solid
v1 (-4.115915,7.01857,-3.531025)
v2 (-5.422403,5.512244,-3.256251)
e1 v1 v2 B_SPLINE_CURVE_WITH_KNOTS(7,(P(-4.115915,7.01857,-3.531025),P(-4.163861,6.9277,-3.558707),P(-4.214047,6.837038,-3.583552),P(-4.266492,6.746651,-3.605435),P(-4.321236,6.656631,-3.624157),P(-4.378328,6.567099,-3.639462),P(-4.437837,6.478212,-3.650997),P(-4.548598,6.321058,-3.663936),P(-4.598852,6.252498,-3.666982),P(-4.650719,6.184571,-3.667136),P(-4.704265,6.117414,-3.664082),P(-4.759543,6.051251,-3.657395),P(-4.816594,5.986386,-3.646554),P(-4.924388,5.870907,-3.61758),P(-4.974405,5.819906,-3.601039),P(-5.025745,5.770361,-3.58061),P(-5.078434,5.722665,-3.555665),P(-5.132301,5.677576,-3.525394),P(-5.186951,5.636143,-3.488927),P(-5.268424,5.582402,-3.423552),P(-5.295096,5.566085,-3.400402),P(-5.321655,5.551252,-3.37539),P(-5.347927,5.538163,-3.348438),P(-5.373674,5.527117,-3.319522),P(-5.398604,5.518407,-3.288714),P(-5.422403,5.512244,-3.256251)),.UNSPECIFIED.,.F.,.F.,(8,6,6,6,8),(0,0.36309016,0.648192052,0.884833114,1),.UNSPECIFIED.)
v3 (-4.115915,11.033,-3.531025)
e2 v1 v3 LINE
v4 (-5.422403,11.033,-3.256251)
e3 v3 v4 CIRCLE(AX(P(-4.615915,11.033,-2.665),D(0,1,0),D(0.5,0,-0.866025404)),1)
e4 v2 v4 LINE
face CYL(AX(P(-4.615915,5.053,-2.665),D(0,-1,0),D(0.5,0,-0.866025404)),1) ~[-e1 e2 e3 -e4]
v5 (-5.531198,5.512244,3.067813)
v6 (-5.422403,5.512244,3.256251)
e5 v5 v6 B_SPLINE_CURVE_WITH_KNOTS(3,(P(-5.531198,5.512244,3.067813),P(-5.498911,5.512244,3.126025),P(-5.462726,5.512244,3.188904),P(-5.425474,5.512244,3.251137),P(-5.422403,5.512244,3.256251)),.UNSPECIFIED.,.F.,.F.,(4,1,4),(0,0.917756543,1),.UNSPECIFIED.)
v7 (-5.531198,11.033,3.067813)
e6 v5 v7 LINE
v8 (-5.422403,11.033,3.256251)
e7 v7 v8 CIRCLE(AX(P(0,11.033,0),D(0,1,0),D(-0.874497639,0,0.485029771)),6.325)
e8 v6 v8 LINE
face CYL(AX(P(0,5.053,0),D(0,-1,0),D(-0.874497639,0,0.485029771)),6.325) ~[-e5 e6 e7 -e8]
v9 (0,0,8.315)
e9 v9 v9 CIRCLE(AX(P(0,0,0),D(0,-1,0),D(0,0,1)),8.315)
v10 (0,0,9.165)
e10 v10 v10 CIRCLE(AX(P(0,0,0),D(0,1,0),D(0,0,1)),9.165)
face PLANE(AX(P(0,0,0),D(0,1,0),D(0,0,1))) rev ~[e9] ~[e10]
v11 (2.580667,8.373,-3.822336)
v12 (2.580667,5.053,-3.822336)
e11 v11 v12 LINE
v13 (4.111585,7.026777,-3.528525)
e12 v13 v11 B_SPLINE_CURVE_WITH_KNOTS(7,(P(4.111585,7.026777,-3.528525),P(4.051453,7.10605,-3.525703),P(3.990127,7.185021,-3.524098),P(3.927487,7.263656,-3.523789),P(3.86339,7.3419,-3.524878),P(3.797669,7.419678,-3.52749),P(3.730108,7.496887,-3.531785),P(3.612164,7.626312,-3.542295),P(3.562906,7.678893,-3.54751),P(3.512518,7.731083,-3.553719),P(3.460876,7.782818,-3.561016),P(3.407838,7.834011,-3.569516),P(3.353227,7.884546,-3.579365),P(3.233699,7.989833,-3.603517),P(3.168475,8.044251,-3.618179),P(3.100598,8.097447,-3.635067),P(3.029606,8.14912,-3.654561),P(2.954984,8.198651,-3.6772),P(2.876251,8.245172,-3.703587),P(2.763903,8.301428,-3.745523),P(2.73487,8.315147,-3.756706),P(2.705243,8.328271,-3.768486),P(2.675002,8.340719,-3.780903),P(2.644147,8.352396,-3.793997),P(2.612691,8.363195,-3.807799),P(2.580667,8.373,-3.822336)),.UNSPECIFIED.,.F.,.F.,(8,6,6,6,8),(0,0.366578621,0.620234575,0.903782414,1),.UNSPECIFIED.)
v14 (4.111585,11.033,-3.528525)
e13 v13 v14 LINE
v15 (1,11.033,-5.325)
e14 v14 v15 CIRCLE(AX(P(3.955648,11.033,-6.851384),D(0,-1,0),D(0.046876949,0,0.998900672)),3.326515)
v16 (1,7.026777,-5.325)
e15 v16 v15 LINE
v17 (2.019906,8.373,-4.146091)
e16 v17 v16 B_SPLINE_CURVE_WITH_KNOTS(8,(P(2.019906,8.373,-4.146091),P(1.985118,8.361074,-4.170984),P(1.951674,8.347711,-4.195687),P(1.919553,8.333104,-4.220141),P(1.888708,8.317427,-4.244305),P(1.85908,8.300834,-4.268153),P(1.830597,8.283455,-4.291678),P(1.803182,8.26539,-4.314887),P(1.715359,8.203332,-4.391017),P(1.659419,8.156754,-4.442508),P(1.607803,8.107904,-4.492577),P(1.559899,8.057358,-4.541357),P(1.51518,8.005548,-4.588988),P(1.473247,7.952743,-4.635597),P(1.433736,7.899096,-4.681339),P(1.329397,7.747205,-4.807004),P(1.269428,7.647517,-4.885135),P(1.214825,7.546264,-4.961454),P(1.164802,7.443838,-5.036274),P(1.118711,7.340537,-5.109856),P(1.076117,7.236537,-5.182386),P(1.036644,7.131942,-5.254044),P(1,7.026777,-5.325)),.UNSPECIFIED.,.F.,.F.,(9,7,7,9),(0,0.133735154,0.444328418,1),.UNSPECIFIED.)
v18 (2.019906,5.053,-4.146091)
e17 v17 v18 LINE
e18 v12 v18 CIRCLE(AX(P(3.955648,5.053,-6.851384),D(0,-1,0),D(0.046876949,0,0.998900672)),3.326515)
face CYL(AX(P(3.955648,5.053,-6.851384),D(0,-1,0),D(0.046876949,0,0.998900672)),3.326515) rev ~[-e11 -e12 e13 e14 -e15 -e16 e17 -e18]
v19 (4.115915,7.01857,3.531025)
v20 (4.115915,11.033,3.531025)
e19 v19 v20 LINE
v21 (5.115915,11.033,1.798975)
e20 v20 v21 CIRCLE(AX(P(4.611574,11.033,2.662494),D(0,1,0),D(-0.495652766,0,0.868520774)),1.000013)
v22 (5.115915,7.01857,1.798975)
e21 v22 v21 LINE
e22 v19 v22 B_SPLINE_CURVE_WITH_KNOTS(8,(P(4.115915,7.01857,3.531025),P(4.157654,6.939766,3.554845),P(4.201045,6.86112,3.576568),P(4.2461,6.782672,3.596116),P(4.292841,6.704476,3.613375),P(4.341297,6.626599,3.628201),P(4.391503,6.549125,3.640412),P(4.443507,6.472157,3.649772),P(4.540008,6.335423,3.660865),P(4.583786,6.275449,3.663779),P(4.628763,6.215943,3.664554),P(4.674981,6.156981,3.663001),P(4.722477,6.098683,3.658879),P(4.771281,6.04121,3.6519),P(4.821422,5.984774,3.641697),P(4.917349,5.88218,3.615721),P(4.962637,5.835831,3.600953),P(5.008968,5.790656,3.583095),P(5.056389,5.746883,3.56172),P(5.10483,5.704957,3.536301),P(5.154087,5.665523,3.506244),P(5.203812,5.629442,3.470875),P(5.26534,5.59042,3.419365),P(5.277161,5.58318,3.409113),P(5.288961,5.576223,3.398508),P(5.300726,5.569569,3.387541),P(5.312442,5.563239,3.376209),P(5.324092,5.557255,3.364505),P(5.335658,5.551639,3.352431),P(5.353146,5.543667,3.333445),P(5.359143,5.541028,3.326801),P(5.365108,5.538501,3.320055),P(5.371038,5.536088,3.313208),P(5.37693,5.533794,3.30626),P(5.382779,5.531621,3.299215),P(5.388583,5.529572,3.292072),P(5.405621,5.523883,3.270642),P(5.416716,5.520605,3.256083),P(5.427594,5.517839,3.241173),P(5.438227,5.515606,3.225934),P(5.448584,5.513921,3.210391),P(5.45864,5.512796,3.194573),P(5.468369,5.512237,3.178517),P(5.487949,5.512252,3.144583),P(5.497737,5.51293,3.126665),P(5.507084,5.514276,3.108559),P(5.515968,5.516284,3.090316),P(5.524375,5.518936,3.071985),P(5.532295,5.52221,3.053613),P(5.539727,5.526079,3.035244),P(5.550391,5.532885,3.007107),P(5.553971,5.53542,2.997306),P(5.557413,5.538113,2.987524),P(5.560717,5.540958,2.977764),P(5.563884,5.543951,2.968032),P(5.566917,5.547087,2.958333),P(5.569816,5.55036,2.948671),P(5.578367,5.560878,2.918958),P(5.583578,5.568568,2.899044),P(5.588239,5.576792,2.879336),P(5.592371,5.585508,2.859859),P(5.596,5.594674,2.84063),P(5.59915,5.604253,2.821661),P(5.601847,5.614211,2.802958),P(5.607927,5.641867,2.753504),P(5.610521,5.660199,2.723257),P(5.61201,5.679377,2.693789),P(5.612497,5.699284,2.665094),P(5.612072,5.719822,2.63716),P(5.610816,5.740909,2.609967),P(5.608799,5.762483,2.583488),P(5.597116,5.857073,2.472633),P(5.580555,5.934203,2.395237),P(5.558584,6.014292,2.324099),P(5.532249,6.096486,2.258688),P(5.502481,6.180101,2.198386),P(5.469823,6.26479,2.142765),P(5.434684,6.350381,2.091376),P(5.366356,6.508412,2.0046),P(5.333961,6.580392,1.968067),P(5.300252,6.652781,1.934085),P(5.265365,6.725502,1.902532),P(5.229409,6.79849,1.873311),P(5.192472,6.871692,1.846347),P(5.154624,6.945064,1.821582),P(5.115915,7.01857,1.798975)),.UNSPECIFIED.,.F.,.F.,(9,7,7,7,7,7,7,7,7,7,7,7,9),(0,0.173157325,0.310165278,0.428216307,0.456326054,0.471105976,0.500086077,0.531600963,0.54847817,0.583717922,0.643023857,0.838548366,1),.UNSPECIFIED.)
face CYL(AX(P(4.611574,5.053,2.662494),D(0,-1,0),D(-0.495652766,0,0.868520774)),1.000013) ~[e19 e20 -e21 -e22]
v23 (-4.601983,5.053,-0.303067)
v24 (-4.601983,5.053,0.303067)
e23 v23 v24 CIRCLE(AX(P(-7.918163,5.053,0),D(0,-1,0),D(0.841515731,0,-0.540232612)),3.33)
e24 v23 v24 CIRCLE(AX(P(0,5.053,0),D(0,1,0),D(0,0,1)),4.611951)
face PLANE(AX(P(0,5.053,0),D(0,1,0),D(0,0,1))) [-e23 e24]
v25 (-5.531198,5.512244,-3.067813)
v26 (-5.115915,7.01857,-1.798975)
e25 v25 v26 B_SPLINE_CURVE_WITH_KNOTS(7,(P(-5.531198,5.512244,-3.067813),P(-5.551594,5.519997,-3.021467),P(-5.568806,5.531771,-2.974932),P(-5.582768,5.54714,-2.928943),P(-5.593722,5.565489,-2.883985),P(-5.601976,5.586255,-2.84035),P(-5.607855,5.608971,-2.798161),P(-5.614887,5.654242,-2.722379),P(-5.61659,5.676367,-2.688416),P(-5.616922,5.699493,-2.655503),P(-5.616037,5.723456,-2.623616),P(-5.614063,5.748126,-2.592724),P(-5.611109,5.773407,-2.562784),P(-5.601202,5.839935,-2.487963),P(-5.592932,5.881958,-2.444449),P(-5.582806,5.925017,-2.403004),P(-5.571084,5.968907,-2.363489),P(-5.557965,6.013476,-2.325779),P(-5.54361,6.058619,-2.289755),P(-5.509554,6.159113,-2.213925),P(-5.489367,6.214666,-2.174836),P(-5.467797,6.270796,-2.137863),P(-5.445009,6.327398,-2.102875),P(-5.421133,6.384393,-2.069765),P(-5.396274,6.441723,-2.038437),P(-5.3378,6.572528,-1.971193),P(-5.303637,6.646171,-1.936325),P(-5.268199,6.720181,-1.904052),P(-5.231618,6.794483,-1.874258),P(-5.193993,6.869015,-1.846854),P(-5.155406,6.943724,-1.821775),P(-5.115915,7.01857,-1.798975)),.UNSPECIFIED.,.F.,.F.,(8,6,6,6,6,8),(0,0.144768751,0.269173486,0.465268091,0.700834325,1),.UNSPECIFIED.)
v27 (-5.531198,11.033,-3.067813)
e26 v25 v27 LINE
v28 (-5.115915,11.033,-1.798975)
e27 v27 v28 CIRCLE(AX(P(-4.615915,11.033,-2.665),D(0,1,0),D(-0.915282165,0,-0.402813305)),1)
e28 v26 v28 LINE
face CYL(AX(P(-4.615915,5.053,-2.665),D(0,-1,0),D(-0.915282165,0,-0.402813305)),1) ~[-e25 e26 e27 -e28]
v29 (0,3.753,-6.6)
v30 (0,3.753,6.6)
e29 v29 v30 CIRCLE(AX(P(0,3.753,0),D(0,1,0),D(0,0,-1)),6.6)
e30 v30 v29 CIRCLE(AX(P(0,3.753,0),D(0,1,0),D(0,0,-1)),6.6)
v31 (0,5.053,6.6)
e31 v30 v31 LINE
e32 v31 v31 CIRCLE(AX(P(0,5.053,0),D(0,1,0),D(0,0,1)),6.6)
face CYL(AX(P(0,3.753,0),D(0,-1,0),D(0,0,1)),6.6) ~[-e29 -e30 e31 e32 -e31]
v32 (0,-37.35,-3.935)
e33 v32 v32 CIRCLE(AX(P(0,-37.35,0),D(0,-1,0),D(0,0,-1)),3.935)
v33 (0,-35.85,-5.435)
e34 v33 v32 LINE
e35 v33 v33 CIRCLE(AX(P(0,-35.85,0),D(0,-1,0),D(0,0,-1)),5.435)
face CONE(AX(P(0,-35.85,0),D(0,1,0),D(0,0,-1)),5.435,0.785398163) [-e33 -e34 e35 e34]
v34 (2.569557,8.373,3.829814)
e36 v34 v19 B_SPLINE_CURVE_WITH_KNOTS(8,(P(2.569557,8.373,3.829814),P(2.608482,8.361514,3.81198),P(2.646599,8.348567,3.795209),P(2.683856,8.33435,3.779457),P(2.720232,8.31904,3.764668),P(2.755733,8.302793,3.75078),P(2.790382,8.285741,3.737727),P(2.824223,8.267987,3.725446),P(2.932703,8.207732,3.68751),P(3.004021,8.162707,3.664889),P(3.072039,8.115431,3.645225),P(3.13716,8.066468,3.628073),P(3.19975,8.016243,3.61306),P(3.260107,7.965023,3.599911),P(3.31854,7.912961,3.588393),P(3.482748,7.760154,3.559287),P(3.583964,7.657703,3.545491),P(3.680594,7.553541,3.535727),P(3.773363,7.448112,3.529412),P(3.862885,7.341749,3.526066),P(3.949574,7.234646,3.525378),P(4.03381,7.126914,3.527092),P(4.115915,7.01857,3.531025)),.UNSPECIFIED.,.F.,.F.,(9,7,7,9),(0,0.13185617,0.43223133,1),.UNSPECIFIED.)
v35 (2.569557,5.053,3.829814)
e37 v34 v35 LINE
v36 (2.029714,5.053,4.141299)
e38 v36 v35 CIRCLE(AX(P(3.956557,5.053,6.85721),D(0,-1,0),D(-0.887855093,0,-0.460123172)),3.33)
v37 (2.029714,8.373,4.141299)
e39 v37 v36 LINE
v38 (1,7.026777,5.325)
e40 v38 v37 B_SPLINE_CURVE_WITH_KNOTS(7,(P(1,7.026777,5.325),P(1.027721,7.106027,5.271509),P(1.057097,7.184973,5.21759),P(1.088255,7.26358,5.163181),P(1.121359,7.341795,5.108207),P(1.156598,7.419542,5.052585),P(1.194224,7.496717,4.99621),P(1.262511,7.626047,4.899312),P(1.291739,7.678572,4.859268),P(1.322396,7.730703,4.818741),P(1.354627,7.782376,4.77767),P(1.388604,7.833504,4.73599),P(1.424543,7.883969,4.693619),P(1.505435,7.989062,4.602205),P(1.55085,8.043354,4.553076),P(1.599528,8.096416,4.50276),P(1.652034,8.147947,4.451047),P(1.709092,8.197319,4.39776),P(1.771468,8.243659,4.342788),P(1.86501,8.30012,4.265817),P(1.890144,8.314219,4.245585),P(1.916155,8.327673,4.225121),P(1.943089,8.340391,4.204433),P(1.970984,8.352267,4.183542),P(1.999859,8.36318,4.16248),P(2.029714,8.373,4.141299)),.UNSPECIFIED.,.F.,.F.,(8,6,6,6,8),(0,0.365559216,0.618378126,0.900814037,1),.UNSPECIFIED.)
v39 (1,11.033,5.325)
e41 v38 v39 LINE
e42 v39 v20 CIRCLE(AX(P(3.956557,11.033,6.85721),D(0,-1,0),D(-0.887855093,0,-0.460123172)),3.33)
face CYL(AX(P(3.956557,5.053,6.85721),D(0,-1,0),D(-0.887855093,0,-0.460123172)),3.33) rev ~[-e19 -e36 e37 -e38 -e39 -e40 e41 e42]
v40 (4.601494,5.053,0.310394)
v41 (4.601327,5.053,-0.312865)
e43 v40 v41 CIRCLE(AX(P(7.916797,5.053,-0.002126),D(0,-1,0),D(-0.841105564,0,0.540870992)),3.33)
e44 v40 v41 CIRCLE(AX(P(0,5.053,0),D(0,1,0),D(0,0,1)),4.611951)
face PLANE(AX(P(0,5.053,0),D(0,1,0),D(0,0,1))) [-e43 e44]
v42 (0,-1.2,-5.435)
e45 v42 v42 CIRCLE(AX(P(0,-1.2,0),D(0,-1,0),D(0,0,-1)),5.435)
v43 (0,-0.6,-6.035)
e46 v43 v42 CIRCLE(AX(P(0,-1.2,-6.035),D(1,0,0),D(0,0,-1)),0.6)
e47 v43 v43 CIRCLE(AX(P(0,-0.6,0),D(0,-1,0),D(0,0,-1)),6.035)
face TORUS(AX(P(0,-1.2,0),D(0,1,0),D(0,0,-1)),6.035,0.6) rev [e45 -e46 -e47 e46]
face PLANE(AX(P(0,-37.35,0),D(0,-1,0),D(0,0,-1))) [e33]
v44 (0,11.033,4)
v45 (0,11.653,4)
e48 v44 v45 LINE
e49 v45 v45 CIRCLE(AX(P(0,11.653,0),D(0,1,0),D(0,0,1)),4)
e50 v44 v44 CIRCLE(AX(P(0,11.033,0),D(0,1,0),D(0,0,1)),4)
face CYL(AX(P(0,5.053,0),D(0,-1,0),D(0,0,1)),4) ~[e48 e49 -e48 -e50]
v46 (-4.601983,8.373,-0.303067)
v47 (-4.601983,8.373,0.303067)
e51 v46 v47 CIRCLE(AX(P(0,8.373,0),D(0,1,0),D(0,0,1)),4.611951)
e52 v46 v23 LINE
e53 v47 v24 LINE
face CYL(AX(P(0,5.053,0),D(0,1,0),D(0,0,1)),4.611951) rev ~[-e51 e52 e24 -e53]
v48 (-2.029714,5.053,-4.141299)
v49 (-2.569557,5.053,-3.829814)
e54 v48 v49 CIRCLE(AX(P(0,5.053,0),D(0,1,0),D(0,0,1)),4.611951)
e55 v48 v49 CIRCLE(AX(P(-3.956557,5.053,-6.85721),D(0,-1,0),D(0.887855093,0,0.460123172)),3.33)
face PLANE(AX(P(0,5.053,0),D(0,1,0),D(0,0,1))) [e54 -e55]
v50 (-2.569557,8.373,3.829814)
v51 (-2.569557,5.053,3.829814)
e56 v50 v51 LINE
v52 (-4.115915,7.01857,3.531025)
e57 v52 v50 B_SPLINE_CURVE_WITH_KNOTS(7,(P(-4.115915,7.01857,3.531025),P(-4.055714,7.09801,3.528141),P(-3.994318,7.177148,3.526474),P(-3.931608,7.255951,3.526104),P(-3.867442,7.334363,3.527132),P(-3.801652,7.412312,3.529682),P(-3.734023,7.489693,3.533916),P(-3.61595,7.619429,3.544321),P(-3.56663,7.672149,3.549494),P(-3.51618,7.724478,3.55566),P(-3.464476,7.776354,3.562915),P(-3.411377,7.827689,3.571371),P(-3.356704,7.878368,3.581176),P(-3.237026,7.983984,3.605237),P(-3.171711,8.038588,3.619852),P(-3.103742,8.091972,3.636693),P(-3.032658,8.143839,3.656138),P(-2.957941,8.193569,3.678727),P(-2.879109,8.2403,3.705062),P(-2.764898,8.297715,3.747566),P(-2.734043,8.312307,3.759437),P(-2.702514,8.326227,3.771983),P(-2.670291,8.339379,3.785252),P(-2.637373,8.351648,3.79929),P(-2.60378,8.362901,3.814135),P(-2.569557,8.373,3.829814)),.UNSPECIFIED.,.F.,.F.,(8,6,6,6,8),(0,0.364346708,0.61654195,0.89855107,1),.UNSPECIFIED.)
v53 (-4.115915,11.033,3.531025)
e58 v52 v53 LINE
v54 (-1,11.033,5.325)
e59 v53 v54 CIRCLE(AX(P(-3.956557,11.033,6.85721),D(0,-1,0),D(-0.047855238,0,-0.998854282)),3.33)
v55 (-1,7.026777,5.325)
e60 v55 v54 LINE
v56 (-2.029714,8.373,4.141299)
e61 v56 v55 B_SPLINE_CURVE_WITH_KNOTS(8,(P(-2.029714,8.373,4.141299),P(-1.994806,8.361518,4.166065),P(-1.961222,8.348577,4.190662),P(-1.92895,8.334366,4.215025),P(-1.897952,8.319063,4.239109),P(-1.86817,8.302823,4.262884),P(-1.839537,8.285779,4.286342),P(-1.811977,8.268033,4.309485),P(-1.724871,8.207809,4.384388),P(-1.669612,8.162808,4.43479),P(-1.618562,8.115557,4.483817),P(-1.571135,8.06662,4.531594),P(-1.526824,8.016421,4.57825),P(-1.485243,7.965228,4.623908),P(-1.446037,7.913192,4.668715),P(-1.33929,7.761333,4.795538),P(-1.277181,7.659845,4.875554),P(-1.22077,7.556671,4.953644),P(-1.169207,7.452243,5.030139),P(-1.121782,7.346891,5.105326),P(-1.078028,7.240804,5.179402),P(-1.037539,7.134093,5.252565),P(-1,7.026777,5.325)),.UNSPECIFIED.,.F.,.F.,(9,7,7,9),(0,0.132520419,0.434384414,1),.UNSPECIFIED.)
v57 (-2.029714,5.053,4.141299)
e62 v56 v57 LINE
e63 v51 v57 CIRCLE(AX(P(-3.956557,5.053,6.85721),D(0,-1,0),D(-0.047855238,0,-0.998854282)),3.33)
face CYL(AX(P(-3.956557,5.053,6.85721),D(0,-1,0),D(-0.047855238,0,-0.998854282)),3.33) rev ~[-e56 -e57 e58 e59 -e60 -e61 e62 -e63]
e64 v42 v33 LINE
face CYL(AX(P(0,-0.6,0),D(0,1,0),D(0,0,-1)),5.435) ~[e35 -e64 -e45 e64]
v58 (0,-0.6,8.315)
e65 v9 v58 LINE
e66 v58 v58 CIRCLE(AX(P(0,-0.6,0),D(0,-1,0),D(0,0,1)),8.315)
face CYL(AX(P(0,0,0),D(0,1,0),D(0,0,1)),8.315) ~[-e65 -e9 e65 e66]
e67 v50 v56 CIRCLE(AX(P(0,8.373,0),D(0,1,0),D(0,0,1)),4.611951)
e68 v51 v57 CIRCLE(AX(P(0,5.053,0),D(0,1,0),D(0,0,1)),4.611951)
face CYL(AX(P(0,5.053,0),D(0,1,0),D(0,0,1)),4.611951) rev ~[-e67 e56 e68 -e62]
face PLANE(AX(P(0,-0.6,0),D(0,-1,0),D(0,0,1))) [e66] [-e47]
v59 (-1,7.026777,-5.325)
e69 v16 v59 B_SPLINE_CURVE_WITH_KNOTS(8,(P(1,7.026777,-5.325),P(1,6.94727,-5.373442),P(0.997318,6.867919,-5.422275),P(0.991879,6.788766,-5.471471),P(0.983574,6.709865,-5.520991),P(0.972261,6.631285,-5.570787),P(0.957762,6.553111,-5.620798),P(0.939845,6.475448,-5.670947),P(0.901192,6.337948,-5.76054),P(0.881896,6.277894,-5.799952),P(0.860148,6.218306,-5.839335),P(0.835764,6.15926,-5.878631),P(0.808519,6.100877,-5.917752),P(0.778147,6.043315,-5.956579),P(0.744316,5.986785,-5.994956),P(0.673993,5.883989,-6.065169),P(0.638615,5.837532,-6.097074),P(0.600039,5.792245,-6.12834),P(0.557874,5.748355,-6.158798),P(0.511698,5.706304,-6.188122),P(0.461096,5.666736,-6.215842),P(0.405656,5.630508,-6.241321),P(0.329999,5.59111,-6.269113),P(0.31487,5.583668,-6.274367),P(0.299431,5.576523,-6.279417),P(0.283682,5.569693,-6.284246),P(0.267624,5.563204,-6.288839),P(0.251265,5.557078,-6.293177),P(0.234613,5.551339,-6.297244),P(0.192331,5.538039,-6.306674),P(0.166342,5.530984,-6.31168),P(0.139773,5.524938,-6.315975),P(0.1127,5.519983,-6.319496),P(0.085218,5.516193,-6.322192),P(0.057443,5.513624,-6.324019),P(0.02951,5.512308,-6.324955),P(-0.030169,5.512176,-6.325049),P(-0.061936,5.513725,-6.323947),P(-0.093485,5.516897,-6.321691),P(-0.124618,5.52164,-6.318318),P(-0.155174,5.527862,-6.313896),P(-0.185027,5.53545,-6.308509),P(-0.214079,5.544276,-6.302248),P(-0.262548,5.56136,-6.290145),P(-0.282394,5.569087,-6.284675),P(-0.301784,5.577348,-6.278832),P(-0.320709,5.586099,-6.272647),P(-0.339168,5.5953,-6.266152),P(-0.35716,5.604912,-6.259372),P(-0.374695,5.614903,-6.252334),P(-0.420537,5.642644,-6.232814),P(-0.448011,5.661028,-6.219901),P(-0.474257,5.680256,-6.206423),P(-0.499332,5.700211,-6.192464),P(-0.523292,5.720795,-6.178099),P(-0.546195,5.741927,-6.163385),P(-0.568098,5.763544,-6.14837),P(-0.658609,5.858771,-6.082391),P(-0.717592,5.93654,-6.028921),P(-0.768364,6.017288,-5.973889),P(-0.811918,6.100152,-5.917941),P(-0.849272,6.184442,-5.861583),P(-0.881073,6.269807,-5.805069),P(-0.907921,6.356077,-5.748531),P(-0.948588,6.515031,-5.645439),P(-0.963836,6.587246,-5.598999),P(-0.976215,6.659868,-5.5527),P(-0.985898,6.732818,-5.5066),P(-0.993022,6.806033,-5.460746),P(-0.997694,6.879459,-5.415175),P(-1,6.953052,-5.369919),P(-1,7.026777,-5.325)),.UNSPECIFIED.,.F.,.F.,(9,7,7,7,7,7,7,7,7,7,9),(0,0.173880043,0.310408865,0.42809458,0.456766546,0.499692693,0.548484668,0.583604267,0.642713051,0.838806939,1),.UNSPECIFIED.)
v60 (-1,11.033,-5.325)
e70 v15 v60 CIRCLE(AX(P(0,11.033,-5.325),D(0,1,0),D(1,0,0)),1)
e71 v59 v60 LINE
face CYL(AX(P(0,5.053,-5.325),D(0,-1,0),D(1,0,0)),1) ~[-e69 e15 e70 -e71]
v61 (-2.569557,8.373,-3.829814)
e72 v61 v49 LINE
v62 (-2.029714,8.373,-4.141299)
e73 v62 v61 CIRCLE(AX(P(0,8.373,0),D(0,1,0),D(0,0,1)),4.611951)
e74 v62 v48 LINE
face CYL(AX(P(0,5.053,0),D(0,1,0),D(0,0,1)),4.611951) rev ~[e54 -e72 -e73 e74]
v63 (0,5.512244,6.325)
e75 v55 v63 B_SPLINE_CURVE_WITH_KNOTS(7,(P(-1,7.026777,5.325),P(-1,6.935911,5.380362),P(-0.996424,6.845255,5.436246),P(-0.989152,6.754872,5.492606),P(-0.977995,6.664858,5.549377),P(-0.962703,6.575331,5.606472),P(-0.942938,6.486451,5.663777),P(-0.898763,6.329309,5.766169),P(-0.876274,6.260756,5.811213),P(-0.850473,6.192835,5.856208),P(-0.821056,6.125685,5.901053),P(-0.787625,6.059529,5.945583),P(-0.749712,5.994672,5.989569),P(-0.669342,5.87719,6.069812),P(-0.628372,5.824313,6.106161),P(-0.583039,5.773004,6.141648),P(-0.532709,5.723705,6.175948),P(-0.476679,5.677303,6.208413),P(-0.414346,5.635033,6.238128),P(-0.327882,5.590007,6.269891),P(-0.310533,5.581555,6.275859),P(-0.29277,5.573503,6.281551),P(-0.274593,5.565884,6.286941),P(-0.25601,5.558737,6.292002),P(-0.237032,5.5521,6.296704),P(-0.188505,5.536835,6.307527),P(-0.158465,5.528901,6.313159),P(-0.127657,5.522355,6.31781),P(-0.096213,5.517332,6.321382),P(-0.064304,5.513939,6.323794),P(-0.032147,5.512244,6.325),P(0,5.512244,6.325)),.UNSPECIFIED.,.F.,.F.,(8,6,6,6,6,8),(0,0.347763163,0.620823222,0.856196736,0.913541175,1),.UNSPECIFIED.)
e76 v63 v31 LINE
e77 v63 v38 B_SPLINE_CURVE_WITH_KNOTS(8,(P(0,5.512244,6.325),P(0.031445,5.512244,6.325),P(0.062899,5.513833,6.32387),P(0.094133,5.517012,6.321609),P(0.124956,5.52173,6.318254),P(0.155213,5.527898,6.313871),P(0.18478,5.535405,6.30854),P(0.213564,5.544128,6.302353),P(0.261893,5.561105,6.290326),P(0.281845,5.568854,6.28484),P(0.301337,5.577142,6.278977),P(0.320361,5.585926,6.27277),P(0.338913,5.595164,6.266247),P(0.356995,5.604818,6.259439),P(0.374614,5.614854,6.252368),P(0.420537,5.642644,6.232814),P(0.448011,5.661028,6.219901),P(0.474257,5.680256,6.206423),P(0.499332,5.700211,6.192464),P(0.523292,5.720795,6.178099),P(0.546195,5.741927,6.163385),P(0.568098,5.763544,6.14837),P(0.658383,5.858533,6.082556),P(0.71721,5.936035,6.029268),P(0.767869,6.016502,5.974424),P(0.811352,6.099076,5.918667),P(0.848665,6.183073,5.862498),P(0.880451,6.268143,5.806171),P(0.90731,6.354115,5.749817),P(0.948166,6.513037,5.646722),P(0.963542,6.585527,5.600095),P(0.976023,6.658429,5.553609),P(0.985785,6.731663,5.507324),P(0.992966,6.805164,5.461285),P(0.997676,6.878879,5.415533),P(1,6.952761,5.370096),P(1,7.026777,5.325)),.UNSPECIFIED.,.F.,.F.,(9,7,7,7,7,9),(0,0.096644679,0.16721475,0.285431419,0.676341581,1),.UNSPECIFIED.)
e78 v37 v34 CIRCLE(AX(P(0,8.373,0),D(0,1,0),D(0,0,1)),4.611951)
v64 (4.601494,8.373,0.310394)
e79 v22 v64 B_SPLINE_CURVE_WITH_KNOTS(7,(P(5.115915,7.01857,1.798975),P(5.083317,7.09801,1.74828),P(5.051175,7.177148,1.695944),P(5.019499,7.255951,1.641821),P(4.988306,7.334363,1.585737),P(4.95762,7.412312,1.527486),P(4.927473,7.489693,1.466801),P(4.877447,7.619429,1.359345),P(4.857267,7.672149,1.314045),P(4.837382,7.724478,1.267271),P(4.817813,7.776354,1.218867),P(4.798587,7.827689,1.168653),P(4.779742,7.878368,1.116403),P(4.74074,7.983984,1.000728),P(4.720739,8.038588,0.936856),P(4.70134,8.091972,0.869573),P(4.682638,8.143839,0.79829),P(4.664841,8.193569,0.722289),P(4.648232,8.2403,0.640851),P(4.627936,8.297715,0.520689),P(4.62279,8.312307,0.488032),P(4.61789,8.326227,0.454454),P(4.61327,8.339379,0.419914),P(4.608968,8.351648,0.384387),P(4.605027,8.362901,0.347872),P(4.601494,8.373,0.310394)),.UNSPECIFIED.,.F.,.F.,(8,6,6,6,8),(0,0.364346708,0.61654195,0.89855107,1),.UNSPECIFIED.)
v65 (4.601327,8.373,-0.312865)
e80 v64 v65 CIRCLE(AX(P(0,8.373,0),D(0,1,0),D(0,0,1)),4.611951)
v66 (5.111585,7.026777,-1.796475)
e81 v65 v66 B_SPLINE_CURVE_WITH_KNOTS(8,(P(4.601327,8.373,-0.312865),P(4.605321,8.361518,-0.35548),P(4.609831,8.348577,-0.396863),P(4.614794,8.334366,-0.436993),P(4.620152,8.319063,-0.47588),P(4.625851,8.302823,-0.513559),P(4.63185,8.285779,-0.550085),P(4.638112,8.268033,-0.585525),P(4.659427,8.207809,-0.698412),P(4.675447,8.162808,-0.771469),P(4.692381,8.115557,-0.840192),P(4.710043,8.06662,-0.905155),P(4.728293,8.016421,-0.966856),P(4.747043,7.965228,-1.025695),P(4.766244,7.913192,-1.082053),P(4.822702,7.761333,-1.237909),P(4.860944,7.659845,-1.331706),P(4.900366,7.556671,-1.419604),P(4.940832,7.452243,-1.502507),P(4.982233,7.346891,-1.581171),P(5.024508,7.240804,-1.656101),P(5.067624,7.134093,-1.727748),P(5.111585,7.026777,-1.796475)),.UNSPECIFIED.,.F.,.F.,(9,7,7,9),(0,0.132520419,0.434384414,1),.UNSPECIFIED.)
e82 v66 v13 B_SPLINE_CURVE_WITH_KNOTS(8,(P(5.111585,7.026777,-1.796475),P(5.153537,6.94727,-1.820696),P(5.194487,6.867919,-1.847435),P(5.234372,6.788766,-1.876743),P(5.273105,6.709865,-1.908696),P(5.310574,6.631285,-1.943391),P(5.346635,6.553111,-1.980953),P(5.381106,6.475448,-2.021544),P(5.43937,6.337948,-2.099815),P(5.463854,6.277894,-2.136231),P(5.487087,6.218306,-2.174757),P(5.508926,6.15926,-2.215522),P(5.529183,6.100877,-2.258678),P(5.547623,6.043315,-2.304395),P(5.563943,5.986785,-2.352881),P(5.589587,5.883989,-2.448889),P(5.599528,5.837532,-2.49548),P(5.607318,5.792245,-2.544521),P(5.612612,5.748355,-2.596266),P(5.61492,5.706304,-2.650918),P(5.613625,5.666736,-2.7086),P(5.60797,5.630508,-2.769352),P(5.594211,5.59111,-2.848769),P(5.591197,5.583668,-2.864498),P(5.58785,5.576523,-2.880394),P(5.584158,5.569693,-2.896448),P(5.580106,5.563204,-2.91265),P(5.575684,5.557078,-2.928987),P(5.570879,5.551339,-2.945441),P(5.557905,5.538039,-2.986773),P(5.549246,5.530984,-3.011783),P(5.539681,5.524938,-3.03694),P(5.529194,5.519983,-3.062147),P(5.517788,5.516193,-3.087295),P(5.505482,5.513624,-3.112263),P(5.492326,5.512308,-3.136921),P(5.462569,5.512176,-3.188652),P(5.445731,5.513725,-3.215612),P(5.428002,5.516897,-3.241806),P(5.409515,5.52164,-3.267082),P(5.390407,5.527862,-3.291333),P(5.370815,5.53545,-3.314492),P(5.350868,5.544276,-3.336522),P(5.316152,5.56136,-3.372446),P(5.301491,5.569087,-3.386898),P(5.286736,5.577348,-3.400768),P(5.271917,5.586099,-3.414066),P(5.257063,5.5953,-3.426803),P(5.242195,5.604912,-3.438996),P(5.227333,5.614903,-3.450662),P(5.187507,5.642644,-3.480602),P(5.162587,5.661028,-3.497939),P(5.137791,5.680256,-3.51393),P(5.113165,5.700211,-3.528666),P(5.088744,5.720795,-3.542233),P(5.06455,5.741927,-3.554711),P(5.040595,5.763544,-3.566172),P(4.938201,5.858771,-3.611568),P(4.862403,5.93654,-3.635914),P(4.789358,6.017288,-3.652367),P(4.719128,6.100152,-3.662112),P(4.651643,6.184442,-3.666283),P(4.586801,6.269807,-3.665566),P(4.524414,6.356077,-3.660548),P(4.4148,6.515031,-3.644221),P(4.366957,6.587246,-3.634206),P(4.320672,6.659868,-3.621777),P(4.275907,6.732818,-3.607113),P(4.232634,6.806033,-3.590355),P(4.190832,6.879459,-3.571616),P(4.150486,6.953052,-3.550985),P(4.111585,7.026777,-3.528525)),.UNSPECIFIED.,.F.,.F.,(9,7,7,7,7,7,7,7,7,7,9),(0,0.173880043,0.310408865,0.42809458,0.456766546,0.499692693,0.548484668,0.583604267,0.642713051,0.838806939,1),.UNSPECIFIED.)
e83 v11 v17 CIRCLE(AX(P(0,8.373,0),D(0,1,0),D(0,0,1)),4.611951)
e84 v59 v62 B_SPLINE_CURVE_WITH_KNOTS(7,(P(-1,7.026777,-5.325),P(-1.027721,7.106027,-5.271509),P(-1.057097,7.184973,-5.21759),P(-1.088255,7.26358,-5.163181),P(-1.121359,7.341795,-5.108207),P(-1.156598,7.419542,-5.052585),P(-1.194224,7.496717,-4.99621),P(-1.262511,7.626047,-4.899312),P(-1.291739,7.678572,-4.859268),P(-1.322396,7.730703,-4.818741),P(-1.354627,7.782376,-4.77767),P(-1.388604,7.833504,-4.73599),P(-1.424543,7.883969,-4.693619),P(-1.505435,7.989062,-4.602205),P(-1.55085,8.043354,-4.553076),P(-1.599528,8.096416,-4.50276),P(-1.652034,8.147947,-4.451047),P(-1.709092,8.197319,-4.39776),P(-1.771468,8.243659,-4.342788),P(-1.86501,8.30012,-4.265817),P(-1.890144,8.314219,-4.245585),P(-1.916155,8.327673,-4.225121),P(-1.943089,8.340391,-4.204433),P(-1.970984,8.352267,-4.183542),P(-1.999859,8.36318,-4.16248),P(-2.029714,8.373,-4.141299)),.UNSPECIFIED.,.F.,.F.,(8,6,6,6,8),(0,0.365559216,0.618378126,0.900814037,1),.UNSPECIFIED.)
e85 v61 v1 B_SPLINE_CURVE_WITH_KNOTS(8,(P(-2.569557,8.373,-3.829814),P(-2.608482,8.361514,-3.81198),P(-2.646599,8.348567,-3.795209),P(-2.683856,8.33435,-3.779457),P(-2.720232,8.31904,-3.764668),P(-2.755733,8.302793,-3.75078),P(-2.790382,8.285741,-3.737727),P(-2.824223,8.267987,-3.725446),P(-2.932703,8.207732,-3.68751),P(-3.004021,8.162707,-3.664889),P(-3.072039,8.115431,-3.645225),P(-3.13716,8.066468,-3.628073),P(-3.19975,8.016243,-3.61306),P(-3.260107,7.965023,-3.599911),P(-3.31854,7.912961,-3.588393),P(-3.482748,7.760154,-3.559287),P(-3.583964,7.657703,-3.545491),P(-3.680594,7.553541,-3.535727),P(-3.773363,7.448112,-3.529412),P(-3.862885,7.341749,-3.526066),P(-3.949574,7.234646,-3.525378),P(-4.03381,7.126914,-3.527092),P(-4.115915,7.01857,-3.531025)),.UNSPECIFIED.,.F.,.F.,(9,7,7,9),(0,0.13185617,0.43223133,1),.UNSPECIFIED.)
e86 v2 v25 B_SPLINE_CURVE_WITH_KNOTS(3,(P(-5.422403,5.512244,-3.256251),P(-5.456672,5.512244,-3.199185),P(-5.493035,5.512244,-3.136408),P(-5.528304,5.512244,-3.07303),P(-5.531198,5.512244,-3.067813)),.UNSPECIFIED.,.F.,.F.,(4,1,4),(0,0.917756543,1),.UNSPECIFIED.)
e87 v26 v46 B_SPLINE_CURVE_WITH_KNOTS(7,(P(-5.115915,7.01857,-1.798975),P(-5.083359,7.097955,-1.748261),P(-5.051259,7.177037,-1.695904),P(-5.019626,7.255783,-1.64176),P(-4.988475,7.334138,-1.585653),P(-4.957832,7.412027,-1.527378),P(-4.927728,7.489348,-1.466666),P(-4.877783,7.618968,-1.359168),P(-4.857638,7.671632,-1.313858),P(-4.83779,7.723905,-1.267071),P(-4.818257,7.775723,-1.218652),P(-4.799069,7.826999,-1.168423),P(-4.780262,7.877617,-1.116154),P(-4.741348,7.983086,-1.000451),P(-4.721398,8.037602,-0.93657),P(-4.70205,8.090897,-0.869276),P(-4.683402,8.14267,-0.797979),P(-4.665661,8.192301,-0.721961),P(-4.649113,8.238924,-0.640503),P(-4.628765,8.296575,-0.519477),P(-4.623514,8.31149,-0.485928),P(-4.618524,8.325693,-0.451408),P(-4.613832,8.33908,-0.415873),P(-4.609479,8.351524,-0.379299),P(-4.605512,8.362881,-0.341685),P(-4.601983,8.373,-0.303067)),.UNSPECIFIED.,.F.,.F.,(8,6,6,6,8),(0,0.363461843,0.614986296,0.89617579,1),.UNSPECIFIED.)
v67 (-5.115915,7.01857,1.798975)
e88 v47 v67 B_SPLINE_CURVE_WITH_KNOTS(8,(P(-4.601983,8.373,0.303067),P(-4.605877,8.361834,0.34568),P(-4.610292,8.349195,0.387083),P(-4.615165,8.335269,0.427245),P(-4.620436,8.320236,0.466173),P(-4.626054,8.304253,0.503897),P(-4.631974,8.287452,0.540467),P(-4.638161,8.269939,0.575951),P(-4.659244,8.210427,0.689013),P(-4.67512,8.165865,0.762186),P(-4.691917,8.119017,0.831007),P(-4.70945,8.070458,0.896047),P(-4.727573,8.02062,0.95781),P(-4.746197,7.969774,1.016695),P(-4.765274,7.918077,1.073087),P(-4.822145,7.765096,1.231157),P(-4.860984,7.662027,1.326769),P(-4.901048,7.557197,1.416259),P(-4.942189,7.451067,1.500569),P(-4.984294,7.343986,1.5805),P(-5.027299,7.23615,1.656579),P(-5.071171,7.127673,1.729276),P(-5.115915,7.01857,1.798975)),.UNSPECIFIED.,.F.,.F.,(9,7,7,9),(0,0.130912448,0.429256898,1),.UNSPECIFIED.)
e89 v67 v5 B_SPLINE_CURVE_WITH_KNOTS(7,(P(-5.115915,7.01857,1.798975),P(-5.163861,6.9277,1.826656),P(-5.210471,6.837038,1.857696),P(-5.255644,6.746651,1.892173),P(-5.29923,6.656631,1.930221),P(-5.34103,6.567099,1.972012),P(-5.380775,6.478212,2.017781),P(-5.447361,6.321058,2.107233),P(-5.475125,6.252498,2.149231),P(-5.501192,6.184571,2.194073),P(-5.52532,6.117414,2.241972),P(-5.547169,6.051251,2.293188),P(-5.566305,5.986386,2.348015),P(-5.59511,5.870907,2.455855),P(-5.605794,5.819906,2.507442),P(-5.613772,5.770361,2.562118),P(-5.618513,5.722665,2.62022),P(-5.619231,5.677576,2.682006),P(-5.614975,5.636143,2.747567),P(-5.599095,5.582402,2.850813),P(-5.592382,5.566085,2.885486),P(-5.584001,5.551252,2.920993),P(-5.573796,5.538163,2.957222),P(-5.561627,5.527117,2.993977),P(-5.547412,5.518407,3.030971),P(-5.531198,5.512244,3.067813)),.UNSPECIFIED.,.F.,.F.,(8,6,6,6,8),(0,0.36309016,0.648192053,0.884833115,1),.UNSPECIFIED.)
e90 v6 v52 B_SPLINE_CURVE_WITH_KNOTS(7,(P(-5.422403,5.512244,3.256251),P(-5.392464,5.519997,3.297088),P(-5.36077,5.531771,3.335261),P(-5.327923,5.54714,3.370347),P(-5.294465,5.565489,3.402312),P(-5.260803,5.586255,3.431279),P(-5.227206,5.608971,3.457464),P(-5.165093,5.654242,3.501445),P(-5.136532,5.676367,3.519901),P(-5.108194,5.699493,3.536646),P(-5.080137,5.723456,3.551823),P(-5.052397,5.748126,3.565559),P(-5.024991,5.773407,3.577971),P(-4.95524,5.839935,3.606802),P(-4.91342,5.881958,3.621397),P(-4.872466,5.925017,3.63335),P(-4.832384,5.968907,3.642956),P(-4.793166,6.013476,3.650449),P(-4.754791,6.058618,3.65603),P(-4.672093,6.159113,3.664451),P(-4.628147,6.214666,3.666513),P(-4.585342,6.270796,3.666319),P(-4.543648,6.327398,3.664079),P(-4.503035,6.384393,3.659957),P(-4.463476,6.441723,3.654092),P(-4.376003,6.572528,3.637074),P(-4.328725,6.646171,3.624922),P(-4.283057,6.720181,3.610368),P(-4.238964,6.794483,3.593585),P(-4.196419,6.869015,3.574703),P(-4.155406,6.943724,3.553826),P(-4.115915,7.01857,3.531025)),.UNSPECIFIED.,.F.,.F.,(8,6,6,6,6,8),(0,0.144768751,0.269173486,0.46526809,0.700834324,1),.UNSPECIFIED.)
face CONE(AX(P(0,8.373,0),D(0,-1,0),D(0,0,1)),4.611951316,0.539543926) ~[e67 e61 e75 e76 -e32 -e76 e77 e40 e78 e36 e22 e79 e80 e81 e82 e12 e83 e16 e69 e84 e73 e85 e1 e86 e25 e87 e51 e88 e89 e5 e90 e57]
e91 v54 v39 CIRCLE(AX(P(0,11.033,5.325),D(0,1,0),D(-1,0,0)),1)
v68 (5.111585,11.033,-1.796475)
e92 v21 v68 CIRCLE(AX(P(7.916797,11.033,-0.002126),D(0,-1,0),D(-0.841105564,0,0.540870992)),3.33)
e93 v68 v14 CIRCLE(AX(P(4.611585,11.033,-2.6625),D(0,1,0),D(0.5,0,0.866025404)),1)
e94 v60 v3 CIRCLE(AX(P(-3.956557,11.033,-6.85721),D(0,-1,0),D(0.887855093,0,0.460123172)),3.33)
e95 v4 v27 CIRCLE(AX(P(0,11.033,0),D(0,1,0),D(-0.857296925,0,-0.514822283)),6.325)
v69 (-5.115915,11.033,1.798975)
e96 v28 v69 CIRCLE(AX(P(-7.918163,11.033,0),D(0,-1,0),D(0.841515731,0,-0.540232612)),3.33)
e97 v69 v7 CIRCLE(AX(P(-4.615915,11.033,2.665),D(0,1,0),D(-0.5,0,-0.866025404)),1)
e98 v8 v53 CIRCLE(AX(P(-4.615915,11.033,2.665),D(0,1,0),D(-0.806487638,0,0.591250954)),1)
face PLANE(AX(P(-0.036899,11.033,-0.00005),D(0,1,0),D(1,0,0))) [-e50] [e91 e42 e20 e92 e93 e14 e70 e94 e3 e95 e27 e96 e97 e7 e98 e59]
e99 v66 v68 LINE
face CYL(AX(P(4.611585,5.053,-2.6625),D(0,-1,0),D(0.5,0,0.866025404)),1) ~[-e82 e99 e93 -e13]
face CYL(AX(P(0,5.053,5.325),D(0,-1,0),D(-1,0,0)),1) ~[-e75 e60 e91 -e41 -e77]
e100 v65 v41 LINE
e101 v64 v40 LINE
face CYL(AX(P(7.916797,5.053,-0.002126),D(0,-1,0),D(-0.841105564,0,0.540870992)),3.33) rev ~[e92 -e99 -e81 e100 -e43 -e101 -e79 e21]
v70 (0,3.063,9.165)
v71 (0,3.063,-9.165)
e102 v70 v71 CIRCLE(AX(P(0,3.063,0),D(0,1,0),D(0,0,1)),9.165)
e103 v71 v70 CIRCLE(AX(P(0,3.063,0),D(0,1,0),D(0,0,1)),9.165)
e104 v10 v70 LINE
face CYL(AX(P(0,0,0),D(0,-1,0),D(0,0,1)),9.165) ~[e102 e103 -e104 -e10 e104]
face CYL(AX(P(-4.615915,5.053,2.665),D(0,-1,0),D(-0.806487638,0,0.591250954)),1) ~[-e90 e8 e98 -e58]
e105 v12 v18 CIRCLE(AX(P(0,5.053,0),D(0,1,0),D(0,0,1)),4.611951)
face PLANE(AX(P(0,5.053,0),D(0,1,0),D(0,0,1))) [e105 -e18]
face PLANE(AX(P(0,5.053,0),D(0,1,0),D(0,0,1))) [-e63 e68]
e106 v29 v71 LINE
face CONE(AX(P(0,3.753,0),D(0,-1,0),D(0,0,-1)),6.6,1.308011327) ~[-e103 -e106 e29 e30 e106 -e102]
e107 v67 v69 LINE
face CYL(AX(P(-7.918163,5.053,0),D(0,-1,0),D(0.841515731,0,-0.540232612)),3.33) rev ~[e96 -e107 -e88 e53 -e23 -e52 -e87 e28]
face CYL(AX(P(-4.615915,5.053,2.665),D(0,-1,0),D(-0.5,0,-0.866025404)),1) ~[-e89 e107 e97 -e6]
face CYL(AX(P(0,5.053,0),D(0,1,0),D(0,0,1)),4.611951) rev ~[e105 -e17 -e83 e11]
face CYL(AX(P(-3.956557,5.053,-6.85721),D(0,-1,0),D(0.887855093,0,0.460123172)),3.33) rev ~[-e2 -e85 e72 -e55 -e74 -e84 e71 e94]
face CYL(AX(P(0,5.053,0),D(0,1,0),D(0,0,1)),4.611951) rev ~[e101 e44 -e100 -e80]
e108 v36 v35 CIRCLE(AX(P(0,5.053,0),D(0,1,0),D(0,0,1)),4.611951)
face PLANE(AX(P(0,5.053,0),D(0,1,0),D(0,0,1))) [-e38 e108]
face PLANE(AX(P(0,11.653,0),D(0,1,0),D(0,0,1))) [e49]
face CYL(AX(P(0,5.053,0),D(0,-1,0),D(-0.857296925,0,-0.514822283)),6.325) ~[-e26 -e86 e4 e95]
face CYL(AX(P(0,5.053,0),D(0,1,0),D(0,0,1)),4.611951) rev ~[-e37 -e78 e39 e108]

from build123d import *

# Parameters (mm, degrees)
SKIZZE1_R                       = 9.165
AUFSATZ_LINEAR_AUSTRAGEN1_DEPTH = 3.063
SKIZZE20_R                      = 6.6
AUFSATZ_LINEAR_AUSTRAGEN4_DEPTH = 0.69
SKIZZE21_R                      = 6.6
AUFSATZ_LINEAR_AUSTRAGEN5_DEPTH = 1.3
SKIZZE22_R                      = 4
AUFSATZ_LINEAR_AUSTRAGEN6_DEPTH = 6.6
SKIZZE22_3_R                    = 4
AUFSATZ_LINEAR_AUSTRAGEN7_DEPTH = 5.98
SKIZZE28_R                      = 8.315
AUFSATZ_LINEAR_AUSTRAGEN8_DEPTH = 0.6
SKIZZE29_R                      = 5.435
AUFSATZ_LINEAR_AUSTRAGEN9_DEPTH = 36.75
VERRUNDUNG1_R                   = 0.6
FASE1_SIZE                      = 1.5


with BuildPart() as part:
    # Skizze1 → Aufsatz-Linear austragen1 (new body)
    with BuildSketch(Plane(origin=(0, 0, 0), x_dir=(1, 0, 0), z_dir=(0, 1, 0))):
        with Locations(Location((0, 0, 0), (0, 0, 270))):  # turned: the seam where the file's is
            Circle(SKIZZE1_R)
    extrude(amount=AUFSATZ_LINEAR_AUSTRAGEN1_DEPTH)

    # Skizze19 → Rotation1 (revolve)
    with BuildSketch(Plane.XY, mode=Mode.PRIVATE) as rotation1_sk:
        Polygon((6.6, 3.063), (6.6, 3.753), (9.165, 3.063), align=None)
    revolve(rotation1_sk.sketch.rotate(Axis((0, 0, 0), (0, 1, 0)), 90), axis=Axis((0, 0, 0), (0, 1, 0)))  # turned: the seam where the file's is

    # Skizze20 → Aufsatz-Linear austragen4 (add)
    with BuildSketch(Plane(origin=(0, 3.063, 0), x_dir=(1, 0, 0), z_dir=(0, 1, 0))):
        Circle(SKIZZE20_R)
    extrude(amount=AUFSATZ_LINEAR_AUSTRAGEN4_DEPTH)

    # Skizze21 → Aufsatz-Linear austragen5 (add)
    with BuildSketch(Plane(origin=(0, 3.753, 0), x_dir=(1, 0, 0), z_dir=(0, 1, 0))):
        with Locations(Location((0, 0, 0), (0, 0, 270))):  # turned: the seam where the file's is
            Circle(SKIZZE21_R)
    extrude(amount=AUFSATZ_LINEAR_AUSTRAGEN5_DEPTH)

    # Skizze22 → Aufsatz-Linear austragen6 (add)
    with BuildSketch(Plane(origin=(0, 5.053, 0), x_dir=(1, 0, 0), z_dir=(0, 1, 0))):
        with Locations(Location((0, 0, 0), (0, 0, 270))):  # turned: the seam where the file's is
            Circle(SKIZZE22_R)
    extrude(amount=AUFSATZ_LINEAR_AUSTRAGEN6_DEPTH)

    # Skizze22_3 → Aufsatz-Linear austragen7 (add)
    with BuildSketch(Plane(origin=(0, 5.053, 0), x_dir=(1, 0, 0), z_dir=(0, 1, 0))):
        with BuildLine():
            ThreePointArc((1, 5.325), (0, 6.325), (-1, 5.325))
            ThreePointArc((-1, 5.325), (-2.295031806, 3.971342442), (-4.115915402, 3.531025404))
            ThreePointArc((-4.115915402, 3.531025404), (-4.821728224, 3.643591377), (-5.42240304, 3.256250954))
            ThreePointArc((-5.42240304, 3.256250954), (-5.477610679, 3.1625), (-5.531197567, 3.067813305))
            ThreePointArc((-5.531197567, 3.067813305), (-5.566306805, 2.353943444), (-5.115915402, 1.798974596))
            ThreePointArc((-5.115915402, 1.798974596), (-4.588162786, 0), (-5.115915402, -1.798974596))
            ThreePointArc((-5.115915402, -1.798974596), (-5.566306805, -2.353943444), (-5.531197567, -3.067813305))
            ThreePointArc((-5.531197567, -3.067813305), (-5.477610679, -3.1625), (-5.42240304, -3.256250954))
            ThreePointArc((-5.42240304, -3.256250954), (-4.821728224, -3.643591377), (-4.115915402, -3.531025404))
            ThreePointArc((-4.115915402, -3.531025404), (-2.295031806, -3.971342442), (-1, -5.325))
            ThreePointArc((-1, -5.325), (0, -6.325), (1, -5.325))
            ThreePointArc((1, -5.325), (2.295031806, -3.971342442), (4.115915402, -3.531025404))
            ThreePointArc((4.115915402, -3.531025404), (5.477610679, -3.1625), (5.115915402, -1.798974596))
            ThreePointArc((5.115915402, -1.798974596), (4.586799345, -0.001884626), (5.111585275, 1.796474596))
            ThreePointArc((5.111585275, 1.796474596), (5.477610679, 3.1625), (4.111585275, 3.528525404))
            ThreePointArc((4.111585275, 3.528525404), (2.29239063, 3.970537041), (1, 5.325))
        make_face()
        with Locations(Location((0, 0, 0), (0, 0, 270))):  # turned: the seam where the file's is
            Circle(SKIZZE22_3_R, mode=Mode.SUBTRACT)
    extrude(amount=AUFSATZ_LINEAR_AUSTRAGEN7_DEPTH)

    # Skizze28 → Aufsatz-Linear austragen8 (add)
    with BuildSketch(Plane.XZ):
        with Locations(Location((0, 0, 0), (0, 0, 90))):  # turned: the seam where the file's is
            Circle(SKIZZE28_R)
    extrude(amount=AUFSATZ_LINEAR_AUSTRAGEN8_DEPTH)

    # Skizze29 → Aufsatz-Linear austragen9 (add)
    with BuildSketch(Plane.XZ.offset(0.6)):
        with Locations(Location((0, 0, 0), (0, 0, 270))):  # turned: the seam where the file's is
            Circle(SKIZZE29_R)
    extrude(amount=AUFSATZ_LINEAR_AUSTRAGEN9_DEPTH)

    # Verrundung1
    verrundung1_edges = [part.edges().sort_by_distance(p)[0] for p in [
        (0, -0.6, 5.435),
    ]]
    fillet(verrundung1_edges, radius=VERRUNDUNG1_R)

    # Skizze32 → Rotation3 (revolve)
    with BuildSketch(Plane.XY, mode=Mode.PRIVATE) as rotation3_sk:
        Polygon((4.611951316, 5.053), (4.611951316, 8.373), (6.6, 5.053), align=None)
    revolve(rotation3_sk.sketch.rotate(Axis((0, 0, 0), (0, 1, 0)), 270), axis=Axis((0, 0, 0), (0, 1, 0)))  # turned: the seam where the file's is

    # Fase1
    fase1_edges = [part.edges().sort_by_distance(p)[0] for p in [
        (0, -37.35, 5.435),
    ]]
    chamfer(fase1_edges, length=FASE1_SIZE)


solid = part.part
